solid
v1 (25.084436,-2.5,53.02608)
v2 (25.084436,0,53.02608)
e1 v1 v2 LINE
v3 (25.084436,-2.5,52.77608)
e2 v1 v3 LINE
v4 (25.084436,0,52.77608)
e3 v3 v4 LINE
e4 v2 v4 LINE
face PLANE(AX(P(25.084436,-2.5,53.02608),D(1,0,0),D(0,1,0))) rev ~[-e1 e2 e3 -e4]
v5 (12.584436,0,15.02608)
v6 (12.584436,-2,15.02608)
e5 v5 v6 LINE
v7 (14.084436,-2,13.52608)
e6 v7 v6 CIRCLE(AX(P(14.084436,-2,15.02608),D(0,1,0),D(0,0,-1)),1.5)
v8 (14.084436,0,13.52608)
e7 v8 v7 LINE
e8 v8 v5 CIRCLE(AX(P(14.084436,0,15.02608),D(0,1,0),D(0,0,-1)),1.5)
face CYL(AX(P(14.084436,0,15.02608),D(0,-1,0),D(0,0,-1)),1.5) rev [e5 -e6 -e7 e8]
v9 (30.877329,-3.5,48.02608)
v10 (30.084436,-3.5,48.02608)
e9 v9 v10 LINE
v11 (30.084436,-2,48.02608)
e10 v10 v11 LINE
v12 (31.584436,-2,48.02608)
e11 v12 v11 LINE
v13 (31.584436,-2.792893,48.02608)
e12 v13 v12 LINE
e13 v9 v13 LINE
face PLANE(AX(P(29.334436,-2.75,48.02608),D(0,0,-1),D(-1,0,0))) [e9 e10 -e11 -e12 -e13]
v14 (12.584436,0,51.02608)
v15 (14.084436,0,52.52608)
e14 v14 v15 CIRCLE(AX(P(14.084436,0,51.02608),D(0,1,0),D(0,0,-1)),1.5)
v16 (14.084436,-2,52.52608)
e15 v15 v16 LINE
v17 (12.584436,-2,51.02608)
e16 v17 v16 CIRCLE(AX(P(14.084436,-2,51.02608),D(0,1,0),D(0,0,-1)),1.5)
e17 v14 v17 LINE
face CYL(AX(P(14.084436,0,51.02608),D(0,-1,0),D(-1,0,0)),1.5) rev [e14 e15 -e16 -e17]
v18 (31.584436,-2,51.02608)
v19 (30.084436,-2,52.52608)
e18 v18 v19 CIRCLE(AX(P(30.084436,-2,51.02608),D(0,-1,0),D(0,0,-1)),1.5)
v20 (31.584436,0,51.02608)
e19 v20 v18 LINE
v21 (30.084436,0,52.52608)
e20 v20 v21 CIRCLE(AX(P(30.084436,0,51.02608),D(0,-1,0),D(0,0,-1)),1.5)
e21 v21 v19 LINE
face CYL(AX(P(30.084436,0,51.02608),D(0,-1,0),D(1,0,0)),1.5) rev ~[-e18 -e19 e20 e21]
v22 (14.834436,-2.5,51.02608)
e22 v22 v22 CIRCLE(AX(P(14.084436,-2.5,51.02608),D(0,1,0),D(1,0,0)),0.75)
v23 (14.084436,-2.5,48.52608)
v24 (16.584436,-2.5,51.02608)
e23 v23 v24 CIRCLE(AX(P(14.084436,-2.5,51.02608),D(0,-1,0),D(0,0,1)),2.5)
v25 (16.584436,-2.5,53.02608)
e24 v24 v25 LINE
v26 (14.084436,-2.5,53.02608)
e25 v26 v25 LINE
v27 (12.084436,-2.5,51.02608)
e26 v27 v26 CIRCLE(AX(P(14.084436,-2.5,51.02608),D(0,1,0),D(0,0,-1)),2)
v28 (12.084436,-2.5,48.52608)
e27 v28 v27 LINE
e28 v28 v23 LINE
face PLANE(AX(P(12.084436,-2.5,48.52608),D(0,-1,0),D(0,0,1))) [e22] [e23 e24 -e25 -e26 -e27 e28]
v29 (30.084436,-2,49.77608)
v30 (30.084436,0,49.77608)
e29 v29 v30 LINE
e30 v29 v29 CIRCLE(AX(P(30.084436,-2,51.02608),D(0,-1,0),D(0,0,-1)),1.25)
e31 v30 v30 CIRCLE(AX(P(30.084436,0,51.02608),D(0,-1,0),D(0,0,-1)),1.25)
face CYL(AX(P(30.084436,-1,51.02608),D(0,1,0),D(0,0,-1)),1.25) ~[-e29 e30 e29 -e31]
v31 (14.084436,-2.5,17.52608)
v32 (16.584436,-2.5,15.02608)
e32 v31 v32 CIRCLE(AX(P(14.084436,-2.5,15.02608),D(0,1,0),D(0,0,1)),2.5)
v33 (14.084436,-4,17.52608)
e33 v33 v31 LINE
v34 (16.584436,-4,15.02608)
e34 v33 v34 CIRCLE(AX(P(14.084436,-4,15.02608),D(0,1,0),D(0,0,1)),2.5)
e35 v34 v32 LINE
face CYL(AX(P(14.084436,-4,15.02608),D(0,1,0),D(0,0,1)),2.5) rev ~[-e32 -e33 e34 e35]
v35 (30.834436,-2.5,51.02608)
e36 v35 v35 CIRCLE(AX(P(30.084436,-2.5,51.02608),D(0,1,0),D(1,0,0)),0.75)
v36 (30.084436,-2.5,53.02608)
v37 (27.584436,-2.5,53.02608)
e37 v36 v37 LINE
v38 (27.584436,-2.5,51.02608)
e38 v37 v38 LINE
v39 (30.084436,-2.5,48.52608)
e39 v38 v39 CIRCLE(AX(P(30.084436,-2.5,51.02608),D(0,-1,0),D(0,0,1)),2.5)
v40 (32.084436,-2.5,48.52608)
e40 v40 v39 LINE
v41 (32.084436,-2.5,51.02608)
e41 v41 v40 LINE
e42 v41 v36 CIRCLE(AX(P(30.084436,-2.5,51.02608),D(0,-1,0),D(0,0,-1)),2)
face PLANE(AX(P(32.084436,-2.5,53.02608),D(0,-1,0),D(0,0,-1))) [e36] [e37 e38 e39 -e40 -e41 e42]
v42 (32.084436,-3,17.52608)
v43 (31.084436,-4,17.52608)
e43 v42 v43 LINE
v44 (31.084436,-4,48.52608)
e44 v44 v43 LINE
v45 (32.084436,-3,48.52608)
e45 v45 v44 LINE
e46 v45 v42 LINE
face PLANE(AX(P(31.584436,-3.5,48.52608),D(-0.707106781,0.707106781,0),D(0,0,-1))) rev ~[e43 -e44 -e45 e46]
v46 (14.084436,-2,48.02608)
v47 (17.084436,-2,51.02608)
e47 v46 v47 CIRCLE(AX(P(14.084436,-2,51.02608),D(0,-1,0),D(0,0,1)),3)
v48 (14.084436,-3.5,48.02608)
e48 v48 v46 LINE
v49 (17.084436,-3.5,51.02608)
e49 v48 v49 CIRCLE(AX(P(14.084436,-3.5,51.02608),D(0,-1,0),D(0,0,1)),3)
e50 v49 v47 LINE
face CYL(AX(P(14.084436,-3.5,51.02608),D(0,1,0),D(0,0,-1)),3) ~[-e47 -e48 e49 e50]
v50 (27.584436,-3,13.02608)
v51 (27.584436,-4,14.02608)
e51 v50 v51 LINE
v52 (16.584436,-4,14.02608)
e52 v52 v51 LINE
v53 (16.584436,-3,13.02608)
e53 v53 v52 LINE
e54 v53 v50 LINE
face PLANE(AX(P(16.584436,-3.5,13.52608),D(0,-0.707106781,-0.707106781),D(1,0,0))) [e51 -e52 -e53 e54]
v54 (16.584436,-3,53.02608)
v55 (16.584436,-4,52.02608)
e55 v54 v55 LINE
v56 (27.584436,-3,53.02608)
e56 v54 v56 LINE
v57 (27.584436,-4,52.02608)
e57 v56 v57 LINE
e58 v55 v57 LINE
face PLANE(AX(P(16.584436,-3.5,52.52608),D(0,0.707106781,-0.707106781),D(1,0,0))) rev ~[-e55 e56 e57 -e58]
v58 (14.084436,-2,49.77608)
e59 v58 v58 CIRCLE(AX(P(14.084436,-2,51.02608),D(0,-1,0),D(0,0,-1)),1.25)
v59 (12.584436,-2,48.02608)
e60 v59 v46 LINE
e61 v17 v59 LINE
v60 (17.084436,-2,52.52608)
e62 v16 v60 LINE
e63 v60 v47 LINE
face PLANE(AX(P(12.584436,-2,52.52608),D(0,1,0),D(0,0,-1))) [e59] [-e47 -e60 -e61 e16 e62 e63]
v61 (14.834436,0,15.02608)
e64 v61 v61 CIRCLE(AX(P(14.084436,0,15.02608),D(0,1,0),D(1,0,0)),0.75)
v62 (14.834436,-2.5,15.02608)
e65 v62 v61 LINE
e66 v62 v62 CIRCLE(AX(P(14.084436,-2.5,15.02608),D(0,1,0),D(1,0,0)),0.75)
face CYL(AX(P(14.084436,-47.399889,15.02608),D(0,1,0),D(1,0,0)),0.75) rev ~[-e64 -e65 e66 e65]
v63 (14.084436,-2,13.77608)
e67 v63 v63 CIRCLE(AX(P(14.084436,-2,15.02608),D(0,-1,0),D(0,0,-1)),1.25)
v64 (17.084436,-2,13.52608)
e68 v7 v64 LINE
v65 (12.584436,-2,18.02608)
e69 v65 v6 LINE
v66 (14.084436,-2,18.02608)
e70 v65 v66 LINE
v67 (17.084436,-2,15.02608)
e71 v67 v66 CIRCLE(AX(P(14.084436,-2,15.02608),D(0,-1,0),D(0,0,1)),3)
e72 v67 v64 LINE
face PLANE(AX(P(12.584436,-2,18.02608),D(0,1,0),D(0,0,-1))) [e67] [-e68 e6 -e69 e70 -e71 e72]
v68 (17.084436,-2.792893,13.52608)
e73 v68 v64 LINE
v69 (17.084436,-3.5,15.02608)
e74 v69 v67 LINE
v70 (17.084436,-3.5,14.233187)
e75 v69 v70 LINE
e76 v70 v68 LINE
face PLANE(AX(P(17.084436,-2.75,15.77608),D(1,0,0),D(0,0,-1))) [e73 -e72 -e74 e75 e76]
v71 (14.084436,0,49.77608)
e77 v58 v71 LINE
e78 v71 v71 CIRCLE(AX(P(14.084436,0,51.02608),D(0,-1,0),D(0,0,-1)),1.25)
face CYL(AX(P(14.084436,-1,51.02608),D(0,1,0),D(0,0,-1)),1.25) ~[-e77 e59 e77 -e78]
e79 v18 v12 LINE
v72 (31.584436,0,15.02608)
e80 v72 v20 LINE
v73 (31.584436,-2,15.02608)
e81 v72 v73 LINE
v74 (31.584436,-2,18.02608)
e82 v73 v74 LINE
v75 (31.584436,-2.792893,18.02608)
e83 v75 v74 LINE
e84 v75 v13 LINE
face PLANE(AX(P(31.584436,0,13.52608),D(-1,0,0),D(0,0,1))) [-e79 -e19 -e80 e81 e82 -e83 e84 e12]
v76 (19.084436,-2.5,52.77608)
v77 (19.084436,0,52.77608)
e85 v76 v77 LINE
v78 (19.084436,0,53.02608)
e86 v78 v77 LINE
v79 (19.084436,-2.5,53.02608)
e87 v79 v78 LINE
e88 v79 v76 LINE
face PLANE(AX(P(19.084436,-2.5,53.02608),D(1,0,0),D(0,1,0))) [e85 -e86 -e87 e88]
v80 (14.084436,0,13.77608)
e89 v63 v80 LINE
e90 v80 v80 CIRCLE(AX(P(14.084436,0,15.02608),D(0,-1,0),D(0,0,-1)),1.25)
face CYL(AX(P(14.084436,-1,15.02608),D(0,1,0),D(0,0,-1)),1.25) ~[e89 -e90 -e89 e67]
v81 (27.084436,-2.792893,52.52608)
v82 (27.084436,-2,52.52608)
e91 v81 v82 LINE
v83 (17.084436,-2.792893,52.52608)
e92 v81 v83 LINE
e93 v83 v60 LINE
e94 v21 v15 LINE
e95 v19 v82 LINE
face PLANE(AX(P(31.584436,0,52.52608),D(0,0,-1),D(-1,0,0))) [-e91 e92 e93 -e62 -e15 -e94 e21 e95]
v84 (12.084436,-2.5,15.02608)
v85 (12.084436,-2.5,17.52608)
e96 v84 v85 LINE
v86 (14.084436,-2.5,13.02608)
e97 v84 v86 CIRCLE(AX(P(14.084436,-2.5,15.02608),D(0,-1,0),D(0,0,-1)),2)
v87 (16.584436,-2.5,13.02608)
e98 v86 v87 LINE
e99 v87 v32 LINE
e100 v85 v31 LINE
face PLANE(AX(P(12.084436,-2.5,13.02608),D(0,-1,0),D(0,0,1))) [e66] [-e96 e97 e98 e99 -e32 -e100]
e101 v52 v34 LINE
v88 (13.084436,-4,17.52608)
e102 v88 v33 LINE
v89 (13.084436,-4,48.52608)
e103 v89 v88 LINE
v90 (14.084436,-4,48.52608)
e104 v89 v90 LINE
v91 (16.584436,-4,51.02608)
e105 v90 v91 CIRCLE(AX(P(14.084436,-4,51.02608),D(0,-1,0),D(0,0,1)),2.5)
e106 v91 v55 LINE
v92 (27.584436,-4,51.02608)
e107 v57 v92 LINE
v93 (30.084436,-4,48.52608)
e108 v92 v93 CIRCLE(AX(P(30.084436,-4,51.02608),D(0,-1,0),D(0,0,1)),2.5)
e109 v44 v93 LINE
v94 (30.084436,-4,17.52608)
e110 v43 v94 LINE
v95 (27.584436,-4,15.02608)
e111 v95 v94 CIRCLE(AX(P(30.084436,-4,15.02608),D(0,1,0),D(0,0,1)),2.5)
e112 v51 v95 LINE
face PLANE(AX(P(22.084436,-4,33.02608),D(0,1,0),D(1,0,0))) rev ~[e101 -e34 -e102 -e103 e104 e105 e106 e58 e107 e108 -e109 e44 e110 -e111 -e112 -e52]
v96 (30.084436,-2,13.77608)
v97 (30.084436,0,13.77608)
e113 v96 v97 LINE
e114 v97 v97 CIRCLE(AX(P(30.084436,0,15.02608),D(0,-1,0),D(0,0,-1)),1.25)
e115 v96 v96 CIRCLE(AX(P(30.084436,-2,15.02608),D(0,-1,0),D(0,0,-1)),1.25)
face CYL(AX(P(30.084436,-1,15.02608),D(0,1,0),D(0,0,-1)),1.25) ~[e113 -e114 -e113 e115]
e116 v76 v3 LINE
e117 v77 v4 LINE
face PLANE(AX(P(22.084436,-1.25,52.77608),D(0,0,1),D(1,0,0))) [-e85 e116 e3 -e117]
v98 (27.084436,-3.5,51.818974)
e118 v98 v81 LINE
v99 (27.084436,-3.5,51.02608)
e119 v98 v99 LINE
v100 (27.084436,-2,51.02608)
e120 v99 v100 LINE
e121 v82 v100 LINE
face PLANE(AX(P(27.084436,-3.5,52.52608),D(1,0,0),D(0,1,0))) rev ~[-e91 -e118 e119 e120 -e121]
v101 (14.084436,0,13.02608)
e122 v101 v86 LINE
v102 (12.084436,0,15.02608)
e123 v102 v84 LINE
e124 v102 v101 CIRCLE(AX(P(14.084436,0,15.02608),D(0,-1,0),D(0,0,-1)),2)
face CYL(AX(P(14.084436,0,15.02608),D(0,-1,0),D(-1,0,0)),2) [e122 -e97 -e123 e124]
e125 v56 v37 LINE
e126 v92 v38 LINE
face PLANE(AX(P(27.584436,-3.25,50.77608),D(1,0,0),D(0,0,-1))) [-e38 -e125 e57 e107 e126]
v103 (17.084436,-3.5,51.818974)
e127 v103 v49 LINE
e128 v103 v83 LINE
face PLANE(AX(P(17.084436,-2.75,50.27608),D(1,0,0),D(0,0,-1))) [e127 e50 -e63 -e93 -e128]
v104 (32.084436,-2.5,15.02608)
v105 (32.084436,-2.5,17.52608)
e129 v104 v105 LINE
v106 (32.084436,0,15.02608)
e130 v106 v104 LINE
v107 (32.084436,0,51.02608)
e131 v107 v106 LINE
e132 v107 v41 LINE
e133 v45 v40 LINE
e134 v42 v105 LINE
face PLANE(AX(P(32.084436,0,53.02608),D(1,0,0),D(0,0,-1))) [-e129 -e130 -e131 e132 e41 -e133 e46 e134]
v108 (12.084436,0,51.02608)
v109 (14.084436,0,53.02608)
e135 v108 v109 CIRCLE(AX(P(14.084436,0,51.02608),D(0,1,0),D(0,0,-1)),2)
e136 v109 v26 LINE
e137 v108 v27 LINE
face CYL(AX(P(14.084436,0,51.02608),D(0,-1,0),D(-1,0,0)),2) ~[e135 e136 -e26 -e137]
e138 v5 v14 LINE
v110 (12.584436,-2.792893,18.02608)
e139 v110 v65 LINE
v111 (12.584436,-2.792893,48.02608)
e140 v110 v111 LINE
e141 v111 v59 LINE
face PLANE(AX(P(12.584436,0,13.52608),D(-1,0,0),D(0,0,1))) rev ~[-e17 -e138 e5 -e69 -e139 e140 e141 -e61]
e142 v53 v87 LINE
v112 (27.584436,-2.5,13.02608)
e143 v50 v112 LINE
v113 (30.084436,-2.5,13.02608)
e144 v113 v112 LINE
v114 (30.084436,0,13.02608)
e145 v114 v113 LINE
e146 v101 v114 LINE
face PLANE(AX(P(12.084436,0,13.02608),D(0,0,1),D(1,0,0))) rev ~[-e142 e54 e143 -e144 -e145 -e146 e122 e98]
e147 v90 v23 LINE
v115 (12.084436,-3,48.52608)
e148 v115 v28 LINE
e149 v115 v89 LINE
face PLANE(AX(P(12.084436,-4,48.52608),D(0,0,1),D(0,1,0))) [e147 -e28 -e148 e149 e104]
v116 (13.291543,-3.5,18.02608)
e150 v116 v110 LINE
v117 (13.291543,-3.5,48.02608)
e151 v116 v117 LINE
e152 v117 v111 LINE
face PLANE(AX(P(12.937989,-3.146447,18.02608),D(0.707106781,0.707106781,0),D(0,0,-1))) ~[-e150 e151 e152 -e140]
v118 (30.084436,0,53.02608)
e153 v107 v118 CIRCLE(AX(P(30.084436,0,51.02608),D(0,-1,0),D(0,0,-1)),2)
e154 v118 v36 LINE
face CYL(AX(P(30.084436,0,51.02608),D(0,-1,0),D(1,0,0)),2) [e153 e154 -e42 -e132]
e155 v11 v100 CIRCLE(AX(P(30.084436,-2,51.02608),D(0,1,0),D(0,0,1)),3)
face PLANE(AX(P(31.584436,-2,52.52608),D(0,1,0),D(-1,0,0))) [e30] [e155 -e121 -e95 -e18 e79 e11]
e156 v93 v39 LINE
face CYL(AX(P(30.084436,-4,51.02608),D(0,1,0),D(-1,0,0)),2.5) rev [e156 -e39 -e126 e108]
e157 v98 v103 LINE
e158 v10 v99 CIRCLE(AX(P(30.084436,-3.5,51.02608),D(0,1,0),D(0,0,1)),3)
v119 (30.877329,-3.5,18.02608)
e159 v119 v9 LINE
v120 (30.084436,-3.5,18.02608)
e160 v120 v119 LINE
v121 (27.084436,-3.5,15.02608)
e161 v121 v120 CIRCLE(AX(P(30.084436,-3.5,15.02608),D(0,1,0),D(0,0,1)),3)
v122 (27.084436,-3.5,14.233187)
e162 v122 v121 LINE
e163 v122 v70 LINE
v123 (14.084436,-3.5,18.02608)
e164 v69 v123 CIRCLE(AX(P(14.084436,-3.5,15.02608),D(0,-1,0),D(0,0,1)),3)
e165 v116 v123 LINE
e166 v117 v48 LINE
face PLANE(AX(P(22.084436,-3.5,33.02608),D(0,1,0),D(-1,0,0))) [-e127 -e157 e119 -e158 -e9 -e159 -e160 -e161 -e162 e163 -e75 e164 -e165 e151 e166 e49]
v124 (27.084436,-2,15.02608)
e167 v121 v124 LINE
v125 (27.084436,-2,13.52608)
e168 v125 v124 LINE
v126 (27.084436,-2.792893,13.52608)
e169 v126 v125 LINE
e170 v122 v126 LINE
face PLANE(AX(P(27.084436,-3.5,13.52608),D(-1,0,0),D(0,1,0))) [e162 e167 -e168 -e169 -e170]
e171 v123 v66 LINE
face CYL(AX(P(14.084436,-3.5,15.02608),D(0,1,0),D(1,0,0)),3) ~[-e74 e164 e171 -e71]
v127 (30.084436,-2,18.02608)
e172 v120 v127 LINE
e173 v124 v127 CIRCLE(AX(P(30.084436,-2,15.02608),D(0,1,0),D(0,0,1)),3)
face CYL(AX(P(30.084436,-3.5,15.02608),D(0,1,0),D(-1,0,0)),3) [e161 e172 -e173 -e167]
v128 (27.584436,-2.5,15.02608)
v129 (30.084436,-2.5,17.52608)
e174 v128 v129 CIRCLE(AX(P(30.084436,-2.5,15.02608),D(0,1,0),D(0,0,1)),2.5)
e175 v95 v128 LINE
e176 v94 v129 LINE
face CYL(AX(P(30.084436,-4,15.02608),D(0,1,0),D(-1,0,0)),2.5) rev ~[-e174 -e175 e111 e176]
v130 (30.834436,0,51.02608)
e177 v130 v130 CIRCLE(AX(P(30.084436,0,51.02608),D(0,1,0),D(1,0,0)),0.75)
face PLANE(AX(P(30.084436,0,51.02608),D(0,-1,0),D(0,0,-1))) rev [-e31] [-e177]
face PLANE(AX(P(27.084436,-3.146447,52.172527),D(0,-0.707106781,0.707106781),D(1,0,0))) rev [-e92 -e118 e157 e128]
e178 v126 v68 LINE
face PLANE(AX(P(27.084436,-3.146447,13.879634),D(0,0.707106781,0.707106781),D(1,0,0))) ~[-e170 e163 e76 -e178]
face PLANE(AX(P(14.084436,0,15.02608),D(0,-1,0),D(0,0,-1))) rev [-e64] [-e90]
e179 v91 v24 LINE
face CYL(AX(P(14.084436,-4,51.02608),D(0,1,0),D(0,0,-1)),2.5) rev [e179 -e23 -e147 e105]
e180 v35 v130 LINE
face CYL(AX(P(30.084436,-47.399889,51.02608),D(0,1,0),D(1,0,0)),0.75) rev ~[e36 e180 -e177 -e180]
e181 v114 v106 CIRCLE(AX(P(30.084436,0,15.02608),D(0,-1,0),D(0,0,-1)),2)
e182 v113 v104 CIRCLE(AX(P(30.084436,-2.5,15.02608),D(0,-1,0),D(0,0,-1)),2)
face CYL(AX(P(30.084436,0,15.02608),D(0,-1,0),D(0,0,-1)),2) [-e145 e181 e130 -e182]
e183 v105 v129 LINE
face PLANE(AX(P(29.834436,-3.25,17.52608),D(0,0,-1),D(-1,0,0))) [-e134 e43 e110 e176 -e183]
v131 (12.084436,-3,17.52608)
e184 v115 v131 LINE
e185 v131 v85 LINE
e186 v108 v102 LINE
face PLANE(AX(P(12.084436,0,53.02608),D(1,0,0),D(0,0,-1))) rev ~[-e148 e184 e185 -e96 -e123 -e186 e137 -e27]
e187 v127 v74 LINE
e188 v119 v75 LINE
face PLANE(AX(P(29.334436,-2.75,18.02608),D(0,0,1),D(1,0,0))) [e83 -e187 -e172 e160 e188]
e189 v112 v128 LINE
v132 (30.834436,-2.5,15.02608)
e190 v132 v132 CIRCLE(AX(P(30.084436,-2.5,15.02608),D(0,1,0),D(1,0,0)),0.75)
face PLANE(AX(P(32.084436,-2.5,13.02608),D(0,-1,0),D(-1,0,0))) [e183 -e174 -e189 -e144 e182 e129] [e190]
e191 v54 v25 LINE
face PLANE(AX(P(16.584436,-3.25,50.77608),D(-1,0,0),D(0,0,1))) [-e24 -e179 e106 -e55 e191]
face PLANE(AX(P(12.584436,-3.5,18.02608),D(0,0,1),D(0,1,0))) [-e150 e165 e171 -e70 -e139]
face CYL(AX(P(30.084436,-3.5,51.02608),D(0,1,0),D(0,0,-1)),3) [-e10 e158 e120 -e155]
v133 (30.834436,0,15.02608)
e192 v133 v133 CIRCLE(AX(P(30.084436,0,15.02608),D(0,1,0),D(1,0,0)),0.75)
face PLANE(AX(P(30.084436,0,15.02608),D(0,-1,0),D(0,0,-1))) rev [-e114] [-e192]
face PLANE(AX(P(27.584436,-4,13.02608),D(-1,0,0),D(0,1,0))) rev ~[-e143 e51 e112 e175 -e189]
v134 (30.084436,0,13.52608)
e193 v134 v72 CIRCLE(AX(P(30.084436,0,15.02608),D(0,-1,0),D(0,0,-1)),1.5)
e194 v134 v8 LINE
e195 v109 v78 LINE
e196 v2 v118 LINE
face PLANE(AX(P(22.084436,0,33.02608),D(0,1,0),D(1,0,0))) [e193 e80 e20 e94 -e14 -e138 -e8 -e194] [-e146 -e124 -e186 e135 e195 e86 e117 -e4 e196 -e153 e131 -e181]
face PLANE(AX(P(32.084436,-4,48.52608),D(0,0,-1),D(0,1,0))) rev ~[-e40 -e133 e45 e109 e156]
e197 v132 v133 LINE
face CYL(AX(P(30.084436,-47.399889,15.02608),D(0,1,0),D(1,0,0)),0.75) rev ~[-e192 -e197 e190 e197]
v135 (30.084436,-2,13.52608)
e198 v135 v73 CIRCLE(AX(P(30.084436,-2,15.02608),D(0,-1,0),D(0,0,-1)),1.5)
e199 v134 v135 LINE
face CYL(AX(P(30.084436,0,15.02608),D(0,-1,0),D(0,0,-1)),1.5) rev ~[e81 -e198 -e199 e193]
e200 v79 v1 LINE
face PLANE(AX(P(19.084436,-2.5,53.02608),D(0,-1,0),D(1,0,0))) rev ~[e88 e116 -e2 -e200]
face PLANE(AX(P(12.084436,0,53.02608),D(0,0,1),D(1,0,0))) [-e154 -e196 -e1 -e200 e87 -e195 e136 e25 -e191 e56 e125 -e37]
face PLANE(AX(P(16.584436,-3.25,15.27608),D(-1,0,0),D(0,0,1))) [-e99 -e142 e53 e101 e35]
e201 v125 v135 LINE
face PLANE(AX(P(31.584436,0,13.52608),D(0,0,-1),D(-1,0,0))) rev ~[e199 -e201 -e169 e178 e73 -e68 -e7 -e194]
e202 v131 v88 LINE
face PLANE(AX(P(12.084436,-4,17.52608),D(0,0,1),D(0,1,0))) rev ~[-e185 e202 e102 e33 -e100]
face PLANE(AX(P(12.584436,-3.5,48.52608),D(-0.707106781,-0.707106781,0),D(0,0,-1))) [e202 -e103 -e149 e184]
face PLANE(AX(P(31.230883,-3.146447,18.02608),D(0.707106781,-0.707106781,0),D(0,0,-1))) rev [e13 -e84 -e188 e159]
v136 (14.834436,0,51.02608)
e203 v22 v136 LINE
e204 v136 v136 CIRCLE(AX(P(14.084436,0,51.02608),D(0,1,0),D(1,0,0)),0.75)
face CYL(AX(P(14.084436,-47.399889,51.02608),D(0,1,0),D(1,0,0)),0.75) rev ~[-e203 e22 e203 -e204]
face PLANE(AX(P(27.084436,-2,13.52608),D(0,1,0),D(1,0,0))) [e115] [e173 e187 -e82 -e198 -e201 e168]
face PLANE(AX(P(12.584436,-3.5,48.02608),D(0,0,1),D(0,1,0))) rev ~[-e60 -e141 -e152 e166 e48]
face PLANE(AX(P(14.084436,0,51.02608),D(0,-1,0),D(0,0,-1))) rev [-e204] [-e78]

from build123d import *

# Parameters (mm, degrees)
ESQUISSE1_W                     = 20
ESQUISSE1_H                     = 40
BOSS_EXTRU_1_DEPTH              = 4
ESQUISSE2_W                     = 19
ESQUISSE2_H                     = 39
ENL_V_MAT_EXTRU_1_DEPTH         = 3.5
ESQUISSE3_W                     = 4.5
ESQUISSE3_H                     = 1.5
BOSS_EXTRU_2_DEPTH              = 4.5
ESQUISSE4_W                     = 4.5
ESQUISSE4_H                     = 1.5
BOSS_EXTRU_3_DEPTH              = 4.5
ESQUISSE5_W                     = 4.5
ESQUISSE5_H                     = 1.5
BOSS_EXTRU_4_DEPTH              = 4.5
ESQUISSE6_W                     = 4.5
ESQUISSE6_H                     = 1.5
BOSS_EXTRU_5_DEPTH              = 4.5
ESQUISSE7_W                     = 4.5
ESQUISSE7_H                     = 1.5
ENL_V_MAT_EXTRU_2_DEPTH         = 4.5
ESQUISSE8_W                     = 4.5
ESQUISSE8_H                     = 1.5
ENL_V_MAT_EXTRU_3_DEPTH         = 4.5
ESQUISSE9_W                     = 4.5
ESQUISSE9_H                     = 1.5
ENL_V_MAT_EXTRU_4_DEPTH         = 4.5
ESQUISSE10_W                    = 4.5
ESQUISSE10_H                    = 1.5
ENL_V_MAT_EXTRU_5_DEPTH         = 4.5
ESQUISSE11_W                    = 6
ESQUISSE11_H                    = 2.5
ENL_V_MAT_EXTRU_6_DEPTH         = 0.25
ESQUISSE12_W                    = 1.25
ESQUISSE12_H                    = 2
ESQUISSE13_W                    = 1.25
ESQUISSE13_H                    = 2
ESQUISSE14_W                    = 1.25
ESQUISSE14_H                    = 2
ESQUISSE15_W                    = 1.25
ESQUISSE15_H                    = 2
DIAM_TRE_DU_PER_AGE_1_5_1_5_1_D = 1.5
CHANFREIN1_SIZE                 = 0.707106781
CHANFREIN2_SIZE                 = 1
CONG_1_R                        = 1.5
CONG_2_R                        = 2
CONG_3_R                        = 2.5
CONG_4_R                        = 3


with BuildPart() as part:
    # Esquisse1 → Boss.-Extru.1 (new body)
    with BuildSketch(Plane(origin=(0, 0, 0), x_dir=(1, 0, 0), z_dir=(0, 1, 0))):
        with Locations((22.084435946, -33.026080306)):
            Rectangle(ESQUISSE1_W, ESQUISSE1_H)
    extrude(amount=-BOSS_EXTRU_1_DEPTH)

    # Esquisse2 → Enlèv. mat.-Extru.1 (cut)
    with BuildSketch(Plane(origin=(0, 0, 0), x_dir=(-1, 0, 0), z_dir=(0, 1, 0))):
        with Locations((-22.084435946, 33.026080306)):
            Rectangle(ESQUISSE2_W, ESQUISSE2_H)
    extrude(amount=-ENL_V_MAT_EXTRU_1_DEPTH, mode=Mode.SUBTRACT)

    # Esquisse3 → Boss.-Extru.2 (add)
    with BuildSketch(Plane(origin=(12.584435946, 0, 0), x_dir=(0, 0, -1), z_dir=(1, 0, 0))):
        with Locations((-15.776080306, -2.75)):
            Rectangle(ESQUISSE3_W, ESQUISSE3_H)
    extrude(amount=BOSS_EXTRU_2_DEPTH)

    # Esquisse4 → Boss.-Extru.3 (add)
    with BuildSketch(Plane.XY.offset(13.526080306)):
        with Locations((29.334435946, -2.75)):
            Rectangle(ESQUISSE4_W, ESQUISSE4_H)
    extrude(amount=BOSS_EXTRU_3_DEPTH)

    # Esquisse5 → Boss.-Extru.4 (add)
    with BuildSketch(Plane(origin=(12.584435946, 0, 0), x_dir=(0, 0, -1), z_dir=(1, 0, 0))):
        with Locations((-50.276080306, -2.75)):
            Rectangle(ESQUISSE5_W, ESQUISSE5_H)
    extrude(amount=BOSS_EXTRU_4_DEPTH)

    # Esquisse6 → Boss.-Extru.5 (add)
    with BuildSketch(Plane(origin=(0, 0, 52.526080306), x_dir=(-1, 0, 0), z_dir=(0, 0, -1))):
        with Locations((-29.334435946, -2.75)):
            Rectangle(ESQUISSE6_W, ESQUISSE6_H)
    extrude(amount=BOSS_EXTRU_5_DEPTH)

    # Esquisse7 → Enlèv. mat.-Extru.2 (cut)
    with BuildSketch(Plane.ZY.offset(-12.084435946)):
        with Locations((15.276080306, -3.25)):
            Rectangle(ESQUISSE7_W, ESQUISSE7_H)
    extrude(amount=-ENL_V_MAT_EXTRU_2_DEPTH, mode=Mode.SUBTRACT)

    # Esquisse8 → Enlèv. mat.-Extru.3 (cut)
    with BuildSketch(Plane(origin=(0, 0, 13.026080306), x_dir=(-1, 0, 0), z_dir=(0, 0, -1))):
        with Locations((-29.834435946, -3.25)):
            Rectangle(ESQUISSE8_W, ESQUISSE8_H)
    extrude(amount=-ENL_V_MAT_EXTRU_3_DEPTH, mode=Mode.SUBTRACT)

    # Esquisse9 → Enlèv. mat.-Extru.4 (cut)
    with BuildSketch(Plane.ZY.offset(-12.084435946)):
        with Locations((50.776080306, -3.25)):
            Rectangle(ESQUISSE9_W, ESQUISSE9_H)
    extrude(amount=-ENL_V_MAT_EXTRU_4_DEPTH, mode=Mode.SUBTRACT)

    # Esquisse10 → Enlèv. mat.-Extru.5 (cut)
    with BuildSketch(Plane(origin=(32.084435946, 0, 0), x_dir=(0, 0, -1), z_dir=(1, 0, 0))):
        with Locations((-50.776080306, -3.25)):
            Rectangle(ESQUISSE10_W, ESQUISSE10_H)
    extrude(amount=-ENL_V_MAT_EXTRU_5_DEPTH, mode=Mode.SUBTRACT)

    # Esquisse11 → Enlèv. mat.-Extru.6 (cut)
    with BuildSketch(Plane.XY.offset(53.026080306)):
        with Locations((22.084435946, -1.25)):
            Rectangle(ESQUISSE11_W, ESQUISSE11_H)
    extrude(amount=-ENL_V_MAT_EXTRU_6_DEPTH, mode=Mode.SUBTRACT)

    # Esquisse12 → Révolution1 (revolve)
    with BuildSketch(Plane.XY.offset(15.026080306)):
        with Locations((30.709435946, -1)):
            Rectangle(ESQUISSE12_W, ESQUISSE12_H)
    revolve(axis=Axis((30.084435946, 0, 15.026080306), (0, -1, 0)))

    # Esquisse13 → Révolution2 (revolve)
    with BuildSketch(Plane.XY.offset(15.026080306)):
        with Locations((14.709435946, -1)):
            Rectangle(ESQUISSE13_W, ESQUISSE13_H)
    revolve(axis=Axis((14.084435946, 0, 15.026080306), (0, -1, 0)))

    # Esquisse14 → Révolution3 (revolve)
    with BuildSketch(Plane.XY.offset(51.026080306)):
        with Locations((14.709435946, -1)):
            Rectangle(ESQUISSE14_W, ESQUISSE14_H)
    revolve(axis=Axis((14.084435946, 0, 51.026080306), (0, -1, 0)))

    # Esquisse15 → Révolution4 (revolve)
    with BuildSketch(Plane.XY.offset(51.026080306)):
        with Locations((30.709435946, -1)):
            Rectangle(ESQUISSE15_W, ESQUISSE15_H)
    revolve(axis=Axis((30.084435946, 0, 51.026080306), (0, -1, 0)))

    # Diamètre du perçage Ø1.5 (1.5)1 (through all)
    with Locations(Plane(origin=(0, -2.5, 0), x_dir=(-1, 0, 0), z_dir=(0, -1, 0))):
        with Locations((-30.084435946, -51.026080306), (-14.084435946, -51.026080306), (-14.084435946, -15.026080306), (-30.084435946, -15.026080306)):
            Hole(DIAM_TRE_DU_PER_AGE_1_5_1_5_1_D / 2)

    # Chanfrein1
    chanfrein1_edges = [part.edges().sort_by_distance(p)[0] for p in [
        (12.584435946, -3.5, 33.026080306),
        (22.084435946, -3.5, 52.526080306),
        (22.084435946, -3.5, 13.526080306),
        (31.584435946, -3.5, 33.026080306),
    ]]
    chamfer(chanfrein1_edges, length=CHANFREIN1_SIZE)

    # Chanfrein2
    chanfrein2_edges = [part.edges().sort_by_distance(p)[0] for p in [
        (12.084435946, -4, 33.026080306),
        (22.084435946, -4, 53.026080306),
        (22.084435946, -4, 13.026080306),
        (32.084435946, -4, 33.026080306),
    ]]
    chamfer(chanfrein2_edges, length=CHANFREIN2_SIZE)

    # Congé1
    cong_1_edges = [part.edges().sort_by_distance(p)[0] for p in [
        (12.584435946, -1, 13.526080306),
        (31.584435946, -1, 13.526080306),
        (31.584435946, -1, 52.526080306),
        (12.584435946, -1, 52.526080306),
    ]]
    fillet(cong_1_edges, radius=CONG_1_R)

    # Congé2
    cong_2_edges = [part.edges().sort_by_distance(p)[0] for p in [
        (12.084435946, -1.25, 53.026080306),
        (32.084435946, -1.25, 53.026080306),
        (32.084435946, -1.25, 13.026080306),
        (12.084435946, -1.25, 13.026080306),
    ]]
    fillet(cong_2_edges, radius=CONG_2_R)

    # Congé3
    cong_3_edges = [part.edges().sort_by_distance(p)[0] for p in [
        (16.584435946, -3.25, 17.526080306),
        (27.584435946, -3.25, 48.526080306),
        (16.584435946, -3.25, 48.526080306),
        (27.584435946, -3.25, 17.526080306),
    ]]
    fillet(cong_3_edges, radius=CONG_3_R)

    # Congé4
    cong_4_edges = [part.edges().sort_by_distance(p)[0] for p in [
        (17.084435946, -2.75, 18.026080306),
        (17.084435946, -2.75, 48.026080306),
        (27.084435946, -2.75, 18.026080306),
        (27.084435946, -2.75, 48.026080306),
    ]]
    fillet(cong_4_edges, radius=CONG_4_R)


solid = part.part
